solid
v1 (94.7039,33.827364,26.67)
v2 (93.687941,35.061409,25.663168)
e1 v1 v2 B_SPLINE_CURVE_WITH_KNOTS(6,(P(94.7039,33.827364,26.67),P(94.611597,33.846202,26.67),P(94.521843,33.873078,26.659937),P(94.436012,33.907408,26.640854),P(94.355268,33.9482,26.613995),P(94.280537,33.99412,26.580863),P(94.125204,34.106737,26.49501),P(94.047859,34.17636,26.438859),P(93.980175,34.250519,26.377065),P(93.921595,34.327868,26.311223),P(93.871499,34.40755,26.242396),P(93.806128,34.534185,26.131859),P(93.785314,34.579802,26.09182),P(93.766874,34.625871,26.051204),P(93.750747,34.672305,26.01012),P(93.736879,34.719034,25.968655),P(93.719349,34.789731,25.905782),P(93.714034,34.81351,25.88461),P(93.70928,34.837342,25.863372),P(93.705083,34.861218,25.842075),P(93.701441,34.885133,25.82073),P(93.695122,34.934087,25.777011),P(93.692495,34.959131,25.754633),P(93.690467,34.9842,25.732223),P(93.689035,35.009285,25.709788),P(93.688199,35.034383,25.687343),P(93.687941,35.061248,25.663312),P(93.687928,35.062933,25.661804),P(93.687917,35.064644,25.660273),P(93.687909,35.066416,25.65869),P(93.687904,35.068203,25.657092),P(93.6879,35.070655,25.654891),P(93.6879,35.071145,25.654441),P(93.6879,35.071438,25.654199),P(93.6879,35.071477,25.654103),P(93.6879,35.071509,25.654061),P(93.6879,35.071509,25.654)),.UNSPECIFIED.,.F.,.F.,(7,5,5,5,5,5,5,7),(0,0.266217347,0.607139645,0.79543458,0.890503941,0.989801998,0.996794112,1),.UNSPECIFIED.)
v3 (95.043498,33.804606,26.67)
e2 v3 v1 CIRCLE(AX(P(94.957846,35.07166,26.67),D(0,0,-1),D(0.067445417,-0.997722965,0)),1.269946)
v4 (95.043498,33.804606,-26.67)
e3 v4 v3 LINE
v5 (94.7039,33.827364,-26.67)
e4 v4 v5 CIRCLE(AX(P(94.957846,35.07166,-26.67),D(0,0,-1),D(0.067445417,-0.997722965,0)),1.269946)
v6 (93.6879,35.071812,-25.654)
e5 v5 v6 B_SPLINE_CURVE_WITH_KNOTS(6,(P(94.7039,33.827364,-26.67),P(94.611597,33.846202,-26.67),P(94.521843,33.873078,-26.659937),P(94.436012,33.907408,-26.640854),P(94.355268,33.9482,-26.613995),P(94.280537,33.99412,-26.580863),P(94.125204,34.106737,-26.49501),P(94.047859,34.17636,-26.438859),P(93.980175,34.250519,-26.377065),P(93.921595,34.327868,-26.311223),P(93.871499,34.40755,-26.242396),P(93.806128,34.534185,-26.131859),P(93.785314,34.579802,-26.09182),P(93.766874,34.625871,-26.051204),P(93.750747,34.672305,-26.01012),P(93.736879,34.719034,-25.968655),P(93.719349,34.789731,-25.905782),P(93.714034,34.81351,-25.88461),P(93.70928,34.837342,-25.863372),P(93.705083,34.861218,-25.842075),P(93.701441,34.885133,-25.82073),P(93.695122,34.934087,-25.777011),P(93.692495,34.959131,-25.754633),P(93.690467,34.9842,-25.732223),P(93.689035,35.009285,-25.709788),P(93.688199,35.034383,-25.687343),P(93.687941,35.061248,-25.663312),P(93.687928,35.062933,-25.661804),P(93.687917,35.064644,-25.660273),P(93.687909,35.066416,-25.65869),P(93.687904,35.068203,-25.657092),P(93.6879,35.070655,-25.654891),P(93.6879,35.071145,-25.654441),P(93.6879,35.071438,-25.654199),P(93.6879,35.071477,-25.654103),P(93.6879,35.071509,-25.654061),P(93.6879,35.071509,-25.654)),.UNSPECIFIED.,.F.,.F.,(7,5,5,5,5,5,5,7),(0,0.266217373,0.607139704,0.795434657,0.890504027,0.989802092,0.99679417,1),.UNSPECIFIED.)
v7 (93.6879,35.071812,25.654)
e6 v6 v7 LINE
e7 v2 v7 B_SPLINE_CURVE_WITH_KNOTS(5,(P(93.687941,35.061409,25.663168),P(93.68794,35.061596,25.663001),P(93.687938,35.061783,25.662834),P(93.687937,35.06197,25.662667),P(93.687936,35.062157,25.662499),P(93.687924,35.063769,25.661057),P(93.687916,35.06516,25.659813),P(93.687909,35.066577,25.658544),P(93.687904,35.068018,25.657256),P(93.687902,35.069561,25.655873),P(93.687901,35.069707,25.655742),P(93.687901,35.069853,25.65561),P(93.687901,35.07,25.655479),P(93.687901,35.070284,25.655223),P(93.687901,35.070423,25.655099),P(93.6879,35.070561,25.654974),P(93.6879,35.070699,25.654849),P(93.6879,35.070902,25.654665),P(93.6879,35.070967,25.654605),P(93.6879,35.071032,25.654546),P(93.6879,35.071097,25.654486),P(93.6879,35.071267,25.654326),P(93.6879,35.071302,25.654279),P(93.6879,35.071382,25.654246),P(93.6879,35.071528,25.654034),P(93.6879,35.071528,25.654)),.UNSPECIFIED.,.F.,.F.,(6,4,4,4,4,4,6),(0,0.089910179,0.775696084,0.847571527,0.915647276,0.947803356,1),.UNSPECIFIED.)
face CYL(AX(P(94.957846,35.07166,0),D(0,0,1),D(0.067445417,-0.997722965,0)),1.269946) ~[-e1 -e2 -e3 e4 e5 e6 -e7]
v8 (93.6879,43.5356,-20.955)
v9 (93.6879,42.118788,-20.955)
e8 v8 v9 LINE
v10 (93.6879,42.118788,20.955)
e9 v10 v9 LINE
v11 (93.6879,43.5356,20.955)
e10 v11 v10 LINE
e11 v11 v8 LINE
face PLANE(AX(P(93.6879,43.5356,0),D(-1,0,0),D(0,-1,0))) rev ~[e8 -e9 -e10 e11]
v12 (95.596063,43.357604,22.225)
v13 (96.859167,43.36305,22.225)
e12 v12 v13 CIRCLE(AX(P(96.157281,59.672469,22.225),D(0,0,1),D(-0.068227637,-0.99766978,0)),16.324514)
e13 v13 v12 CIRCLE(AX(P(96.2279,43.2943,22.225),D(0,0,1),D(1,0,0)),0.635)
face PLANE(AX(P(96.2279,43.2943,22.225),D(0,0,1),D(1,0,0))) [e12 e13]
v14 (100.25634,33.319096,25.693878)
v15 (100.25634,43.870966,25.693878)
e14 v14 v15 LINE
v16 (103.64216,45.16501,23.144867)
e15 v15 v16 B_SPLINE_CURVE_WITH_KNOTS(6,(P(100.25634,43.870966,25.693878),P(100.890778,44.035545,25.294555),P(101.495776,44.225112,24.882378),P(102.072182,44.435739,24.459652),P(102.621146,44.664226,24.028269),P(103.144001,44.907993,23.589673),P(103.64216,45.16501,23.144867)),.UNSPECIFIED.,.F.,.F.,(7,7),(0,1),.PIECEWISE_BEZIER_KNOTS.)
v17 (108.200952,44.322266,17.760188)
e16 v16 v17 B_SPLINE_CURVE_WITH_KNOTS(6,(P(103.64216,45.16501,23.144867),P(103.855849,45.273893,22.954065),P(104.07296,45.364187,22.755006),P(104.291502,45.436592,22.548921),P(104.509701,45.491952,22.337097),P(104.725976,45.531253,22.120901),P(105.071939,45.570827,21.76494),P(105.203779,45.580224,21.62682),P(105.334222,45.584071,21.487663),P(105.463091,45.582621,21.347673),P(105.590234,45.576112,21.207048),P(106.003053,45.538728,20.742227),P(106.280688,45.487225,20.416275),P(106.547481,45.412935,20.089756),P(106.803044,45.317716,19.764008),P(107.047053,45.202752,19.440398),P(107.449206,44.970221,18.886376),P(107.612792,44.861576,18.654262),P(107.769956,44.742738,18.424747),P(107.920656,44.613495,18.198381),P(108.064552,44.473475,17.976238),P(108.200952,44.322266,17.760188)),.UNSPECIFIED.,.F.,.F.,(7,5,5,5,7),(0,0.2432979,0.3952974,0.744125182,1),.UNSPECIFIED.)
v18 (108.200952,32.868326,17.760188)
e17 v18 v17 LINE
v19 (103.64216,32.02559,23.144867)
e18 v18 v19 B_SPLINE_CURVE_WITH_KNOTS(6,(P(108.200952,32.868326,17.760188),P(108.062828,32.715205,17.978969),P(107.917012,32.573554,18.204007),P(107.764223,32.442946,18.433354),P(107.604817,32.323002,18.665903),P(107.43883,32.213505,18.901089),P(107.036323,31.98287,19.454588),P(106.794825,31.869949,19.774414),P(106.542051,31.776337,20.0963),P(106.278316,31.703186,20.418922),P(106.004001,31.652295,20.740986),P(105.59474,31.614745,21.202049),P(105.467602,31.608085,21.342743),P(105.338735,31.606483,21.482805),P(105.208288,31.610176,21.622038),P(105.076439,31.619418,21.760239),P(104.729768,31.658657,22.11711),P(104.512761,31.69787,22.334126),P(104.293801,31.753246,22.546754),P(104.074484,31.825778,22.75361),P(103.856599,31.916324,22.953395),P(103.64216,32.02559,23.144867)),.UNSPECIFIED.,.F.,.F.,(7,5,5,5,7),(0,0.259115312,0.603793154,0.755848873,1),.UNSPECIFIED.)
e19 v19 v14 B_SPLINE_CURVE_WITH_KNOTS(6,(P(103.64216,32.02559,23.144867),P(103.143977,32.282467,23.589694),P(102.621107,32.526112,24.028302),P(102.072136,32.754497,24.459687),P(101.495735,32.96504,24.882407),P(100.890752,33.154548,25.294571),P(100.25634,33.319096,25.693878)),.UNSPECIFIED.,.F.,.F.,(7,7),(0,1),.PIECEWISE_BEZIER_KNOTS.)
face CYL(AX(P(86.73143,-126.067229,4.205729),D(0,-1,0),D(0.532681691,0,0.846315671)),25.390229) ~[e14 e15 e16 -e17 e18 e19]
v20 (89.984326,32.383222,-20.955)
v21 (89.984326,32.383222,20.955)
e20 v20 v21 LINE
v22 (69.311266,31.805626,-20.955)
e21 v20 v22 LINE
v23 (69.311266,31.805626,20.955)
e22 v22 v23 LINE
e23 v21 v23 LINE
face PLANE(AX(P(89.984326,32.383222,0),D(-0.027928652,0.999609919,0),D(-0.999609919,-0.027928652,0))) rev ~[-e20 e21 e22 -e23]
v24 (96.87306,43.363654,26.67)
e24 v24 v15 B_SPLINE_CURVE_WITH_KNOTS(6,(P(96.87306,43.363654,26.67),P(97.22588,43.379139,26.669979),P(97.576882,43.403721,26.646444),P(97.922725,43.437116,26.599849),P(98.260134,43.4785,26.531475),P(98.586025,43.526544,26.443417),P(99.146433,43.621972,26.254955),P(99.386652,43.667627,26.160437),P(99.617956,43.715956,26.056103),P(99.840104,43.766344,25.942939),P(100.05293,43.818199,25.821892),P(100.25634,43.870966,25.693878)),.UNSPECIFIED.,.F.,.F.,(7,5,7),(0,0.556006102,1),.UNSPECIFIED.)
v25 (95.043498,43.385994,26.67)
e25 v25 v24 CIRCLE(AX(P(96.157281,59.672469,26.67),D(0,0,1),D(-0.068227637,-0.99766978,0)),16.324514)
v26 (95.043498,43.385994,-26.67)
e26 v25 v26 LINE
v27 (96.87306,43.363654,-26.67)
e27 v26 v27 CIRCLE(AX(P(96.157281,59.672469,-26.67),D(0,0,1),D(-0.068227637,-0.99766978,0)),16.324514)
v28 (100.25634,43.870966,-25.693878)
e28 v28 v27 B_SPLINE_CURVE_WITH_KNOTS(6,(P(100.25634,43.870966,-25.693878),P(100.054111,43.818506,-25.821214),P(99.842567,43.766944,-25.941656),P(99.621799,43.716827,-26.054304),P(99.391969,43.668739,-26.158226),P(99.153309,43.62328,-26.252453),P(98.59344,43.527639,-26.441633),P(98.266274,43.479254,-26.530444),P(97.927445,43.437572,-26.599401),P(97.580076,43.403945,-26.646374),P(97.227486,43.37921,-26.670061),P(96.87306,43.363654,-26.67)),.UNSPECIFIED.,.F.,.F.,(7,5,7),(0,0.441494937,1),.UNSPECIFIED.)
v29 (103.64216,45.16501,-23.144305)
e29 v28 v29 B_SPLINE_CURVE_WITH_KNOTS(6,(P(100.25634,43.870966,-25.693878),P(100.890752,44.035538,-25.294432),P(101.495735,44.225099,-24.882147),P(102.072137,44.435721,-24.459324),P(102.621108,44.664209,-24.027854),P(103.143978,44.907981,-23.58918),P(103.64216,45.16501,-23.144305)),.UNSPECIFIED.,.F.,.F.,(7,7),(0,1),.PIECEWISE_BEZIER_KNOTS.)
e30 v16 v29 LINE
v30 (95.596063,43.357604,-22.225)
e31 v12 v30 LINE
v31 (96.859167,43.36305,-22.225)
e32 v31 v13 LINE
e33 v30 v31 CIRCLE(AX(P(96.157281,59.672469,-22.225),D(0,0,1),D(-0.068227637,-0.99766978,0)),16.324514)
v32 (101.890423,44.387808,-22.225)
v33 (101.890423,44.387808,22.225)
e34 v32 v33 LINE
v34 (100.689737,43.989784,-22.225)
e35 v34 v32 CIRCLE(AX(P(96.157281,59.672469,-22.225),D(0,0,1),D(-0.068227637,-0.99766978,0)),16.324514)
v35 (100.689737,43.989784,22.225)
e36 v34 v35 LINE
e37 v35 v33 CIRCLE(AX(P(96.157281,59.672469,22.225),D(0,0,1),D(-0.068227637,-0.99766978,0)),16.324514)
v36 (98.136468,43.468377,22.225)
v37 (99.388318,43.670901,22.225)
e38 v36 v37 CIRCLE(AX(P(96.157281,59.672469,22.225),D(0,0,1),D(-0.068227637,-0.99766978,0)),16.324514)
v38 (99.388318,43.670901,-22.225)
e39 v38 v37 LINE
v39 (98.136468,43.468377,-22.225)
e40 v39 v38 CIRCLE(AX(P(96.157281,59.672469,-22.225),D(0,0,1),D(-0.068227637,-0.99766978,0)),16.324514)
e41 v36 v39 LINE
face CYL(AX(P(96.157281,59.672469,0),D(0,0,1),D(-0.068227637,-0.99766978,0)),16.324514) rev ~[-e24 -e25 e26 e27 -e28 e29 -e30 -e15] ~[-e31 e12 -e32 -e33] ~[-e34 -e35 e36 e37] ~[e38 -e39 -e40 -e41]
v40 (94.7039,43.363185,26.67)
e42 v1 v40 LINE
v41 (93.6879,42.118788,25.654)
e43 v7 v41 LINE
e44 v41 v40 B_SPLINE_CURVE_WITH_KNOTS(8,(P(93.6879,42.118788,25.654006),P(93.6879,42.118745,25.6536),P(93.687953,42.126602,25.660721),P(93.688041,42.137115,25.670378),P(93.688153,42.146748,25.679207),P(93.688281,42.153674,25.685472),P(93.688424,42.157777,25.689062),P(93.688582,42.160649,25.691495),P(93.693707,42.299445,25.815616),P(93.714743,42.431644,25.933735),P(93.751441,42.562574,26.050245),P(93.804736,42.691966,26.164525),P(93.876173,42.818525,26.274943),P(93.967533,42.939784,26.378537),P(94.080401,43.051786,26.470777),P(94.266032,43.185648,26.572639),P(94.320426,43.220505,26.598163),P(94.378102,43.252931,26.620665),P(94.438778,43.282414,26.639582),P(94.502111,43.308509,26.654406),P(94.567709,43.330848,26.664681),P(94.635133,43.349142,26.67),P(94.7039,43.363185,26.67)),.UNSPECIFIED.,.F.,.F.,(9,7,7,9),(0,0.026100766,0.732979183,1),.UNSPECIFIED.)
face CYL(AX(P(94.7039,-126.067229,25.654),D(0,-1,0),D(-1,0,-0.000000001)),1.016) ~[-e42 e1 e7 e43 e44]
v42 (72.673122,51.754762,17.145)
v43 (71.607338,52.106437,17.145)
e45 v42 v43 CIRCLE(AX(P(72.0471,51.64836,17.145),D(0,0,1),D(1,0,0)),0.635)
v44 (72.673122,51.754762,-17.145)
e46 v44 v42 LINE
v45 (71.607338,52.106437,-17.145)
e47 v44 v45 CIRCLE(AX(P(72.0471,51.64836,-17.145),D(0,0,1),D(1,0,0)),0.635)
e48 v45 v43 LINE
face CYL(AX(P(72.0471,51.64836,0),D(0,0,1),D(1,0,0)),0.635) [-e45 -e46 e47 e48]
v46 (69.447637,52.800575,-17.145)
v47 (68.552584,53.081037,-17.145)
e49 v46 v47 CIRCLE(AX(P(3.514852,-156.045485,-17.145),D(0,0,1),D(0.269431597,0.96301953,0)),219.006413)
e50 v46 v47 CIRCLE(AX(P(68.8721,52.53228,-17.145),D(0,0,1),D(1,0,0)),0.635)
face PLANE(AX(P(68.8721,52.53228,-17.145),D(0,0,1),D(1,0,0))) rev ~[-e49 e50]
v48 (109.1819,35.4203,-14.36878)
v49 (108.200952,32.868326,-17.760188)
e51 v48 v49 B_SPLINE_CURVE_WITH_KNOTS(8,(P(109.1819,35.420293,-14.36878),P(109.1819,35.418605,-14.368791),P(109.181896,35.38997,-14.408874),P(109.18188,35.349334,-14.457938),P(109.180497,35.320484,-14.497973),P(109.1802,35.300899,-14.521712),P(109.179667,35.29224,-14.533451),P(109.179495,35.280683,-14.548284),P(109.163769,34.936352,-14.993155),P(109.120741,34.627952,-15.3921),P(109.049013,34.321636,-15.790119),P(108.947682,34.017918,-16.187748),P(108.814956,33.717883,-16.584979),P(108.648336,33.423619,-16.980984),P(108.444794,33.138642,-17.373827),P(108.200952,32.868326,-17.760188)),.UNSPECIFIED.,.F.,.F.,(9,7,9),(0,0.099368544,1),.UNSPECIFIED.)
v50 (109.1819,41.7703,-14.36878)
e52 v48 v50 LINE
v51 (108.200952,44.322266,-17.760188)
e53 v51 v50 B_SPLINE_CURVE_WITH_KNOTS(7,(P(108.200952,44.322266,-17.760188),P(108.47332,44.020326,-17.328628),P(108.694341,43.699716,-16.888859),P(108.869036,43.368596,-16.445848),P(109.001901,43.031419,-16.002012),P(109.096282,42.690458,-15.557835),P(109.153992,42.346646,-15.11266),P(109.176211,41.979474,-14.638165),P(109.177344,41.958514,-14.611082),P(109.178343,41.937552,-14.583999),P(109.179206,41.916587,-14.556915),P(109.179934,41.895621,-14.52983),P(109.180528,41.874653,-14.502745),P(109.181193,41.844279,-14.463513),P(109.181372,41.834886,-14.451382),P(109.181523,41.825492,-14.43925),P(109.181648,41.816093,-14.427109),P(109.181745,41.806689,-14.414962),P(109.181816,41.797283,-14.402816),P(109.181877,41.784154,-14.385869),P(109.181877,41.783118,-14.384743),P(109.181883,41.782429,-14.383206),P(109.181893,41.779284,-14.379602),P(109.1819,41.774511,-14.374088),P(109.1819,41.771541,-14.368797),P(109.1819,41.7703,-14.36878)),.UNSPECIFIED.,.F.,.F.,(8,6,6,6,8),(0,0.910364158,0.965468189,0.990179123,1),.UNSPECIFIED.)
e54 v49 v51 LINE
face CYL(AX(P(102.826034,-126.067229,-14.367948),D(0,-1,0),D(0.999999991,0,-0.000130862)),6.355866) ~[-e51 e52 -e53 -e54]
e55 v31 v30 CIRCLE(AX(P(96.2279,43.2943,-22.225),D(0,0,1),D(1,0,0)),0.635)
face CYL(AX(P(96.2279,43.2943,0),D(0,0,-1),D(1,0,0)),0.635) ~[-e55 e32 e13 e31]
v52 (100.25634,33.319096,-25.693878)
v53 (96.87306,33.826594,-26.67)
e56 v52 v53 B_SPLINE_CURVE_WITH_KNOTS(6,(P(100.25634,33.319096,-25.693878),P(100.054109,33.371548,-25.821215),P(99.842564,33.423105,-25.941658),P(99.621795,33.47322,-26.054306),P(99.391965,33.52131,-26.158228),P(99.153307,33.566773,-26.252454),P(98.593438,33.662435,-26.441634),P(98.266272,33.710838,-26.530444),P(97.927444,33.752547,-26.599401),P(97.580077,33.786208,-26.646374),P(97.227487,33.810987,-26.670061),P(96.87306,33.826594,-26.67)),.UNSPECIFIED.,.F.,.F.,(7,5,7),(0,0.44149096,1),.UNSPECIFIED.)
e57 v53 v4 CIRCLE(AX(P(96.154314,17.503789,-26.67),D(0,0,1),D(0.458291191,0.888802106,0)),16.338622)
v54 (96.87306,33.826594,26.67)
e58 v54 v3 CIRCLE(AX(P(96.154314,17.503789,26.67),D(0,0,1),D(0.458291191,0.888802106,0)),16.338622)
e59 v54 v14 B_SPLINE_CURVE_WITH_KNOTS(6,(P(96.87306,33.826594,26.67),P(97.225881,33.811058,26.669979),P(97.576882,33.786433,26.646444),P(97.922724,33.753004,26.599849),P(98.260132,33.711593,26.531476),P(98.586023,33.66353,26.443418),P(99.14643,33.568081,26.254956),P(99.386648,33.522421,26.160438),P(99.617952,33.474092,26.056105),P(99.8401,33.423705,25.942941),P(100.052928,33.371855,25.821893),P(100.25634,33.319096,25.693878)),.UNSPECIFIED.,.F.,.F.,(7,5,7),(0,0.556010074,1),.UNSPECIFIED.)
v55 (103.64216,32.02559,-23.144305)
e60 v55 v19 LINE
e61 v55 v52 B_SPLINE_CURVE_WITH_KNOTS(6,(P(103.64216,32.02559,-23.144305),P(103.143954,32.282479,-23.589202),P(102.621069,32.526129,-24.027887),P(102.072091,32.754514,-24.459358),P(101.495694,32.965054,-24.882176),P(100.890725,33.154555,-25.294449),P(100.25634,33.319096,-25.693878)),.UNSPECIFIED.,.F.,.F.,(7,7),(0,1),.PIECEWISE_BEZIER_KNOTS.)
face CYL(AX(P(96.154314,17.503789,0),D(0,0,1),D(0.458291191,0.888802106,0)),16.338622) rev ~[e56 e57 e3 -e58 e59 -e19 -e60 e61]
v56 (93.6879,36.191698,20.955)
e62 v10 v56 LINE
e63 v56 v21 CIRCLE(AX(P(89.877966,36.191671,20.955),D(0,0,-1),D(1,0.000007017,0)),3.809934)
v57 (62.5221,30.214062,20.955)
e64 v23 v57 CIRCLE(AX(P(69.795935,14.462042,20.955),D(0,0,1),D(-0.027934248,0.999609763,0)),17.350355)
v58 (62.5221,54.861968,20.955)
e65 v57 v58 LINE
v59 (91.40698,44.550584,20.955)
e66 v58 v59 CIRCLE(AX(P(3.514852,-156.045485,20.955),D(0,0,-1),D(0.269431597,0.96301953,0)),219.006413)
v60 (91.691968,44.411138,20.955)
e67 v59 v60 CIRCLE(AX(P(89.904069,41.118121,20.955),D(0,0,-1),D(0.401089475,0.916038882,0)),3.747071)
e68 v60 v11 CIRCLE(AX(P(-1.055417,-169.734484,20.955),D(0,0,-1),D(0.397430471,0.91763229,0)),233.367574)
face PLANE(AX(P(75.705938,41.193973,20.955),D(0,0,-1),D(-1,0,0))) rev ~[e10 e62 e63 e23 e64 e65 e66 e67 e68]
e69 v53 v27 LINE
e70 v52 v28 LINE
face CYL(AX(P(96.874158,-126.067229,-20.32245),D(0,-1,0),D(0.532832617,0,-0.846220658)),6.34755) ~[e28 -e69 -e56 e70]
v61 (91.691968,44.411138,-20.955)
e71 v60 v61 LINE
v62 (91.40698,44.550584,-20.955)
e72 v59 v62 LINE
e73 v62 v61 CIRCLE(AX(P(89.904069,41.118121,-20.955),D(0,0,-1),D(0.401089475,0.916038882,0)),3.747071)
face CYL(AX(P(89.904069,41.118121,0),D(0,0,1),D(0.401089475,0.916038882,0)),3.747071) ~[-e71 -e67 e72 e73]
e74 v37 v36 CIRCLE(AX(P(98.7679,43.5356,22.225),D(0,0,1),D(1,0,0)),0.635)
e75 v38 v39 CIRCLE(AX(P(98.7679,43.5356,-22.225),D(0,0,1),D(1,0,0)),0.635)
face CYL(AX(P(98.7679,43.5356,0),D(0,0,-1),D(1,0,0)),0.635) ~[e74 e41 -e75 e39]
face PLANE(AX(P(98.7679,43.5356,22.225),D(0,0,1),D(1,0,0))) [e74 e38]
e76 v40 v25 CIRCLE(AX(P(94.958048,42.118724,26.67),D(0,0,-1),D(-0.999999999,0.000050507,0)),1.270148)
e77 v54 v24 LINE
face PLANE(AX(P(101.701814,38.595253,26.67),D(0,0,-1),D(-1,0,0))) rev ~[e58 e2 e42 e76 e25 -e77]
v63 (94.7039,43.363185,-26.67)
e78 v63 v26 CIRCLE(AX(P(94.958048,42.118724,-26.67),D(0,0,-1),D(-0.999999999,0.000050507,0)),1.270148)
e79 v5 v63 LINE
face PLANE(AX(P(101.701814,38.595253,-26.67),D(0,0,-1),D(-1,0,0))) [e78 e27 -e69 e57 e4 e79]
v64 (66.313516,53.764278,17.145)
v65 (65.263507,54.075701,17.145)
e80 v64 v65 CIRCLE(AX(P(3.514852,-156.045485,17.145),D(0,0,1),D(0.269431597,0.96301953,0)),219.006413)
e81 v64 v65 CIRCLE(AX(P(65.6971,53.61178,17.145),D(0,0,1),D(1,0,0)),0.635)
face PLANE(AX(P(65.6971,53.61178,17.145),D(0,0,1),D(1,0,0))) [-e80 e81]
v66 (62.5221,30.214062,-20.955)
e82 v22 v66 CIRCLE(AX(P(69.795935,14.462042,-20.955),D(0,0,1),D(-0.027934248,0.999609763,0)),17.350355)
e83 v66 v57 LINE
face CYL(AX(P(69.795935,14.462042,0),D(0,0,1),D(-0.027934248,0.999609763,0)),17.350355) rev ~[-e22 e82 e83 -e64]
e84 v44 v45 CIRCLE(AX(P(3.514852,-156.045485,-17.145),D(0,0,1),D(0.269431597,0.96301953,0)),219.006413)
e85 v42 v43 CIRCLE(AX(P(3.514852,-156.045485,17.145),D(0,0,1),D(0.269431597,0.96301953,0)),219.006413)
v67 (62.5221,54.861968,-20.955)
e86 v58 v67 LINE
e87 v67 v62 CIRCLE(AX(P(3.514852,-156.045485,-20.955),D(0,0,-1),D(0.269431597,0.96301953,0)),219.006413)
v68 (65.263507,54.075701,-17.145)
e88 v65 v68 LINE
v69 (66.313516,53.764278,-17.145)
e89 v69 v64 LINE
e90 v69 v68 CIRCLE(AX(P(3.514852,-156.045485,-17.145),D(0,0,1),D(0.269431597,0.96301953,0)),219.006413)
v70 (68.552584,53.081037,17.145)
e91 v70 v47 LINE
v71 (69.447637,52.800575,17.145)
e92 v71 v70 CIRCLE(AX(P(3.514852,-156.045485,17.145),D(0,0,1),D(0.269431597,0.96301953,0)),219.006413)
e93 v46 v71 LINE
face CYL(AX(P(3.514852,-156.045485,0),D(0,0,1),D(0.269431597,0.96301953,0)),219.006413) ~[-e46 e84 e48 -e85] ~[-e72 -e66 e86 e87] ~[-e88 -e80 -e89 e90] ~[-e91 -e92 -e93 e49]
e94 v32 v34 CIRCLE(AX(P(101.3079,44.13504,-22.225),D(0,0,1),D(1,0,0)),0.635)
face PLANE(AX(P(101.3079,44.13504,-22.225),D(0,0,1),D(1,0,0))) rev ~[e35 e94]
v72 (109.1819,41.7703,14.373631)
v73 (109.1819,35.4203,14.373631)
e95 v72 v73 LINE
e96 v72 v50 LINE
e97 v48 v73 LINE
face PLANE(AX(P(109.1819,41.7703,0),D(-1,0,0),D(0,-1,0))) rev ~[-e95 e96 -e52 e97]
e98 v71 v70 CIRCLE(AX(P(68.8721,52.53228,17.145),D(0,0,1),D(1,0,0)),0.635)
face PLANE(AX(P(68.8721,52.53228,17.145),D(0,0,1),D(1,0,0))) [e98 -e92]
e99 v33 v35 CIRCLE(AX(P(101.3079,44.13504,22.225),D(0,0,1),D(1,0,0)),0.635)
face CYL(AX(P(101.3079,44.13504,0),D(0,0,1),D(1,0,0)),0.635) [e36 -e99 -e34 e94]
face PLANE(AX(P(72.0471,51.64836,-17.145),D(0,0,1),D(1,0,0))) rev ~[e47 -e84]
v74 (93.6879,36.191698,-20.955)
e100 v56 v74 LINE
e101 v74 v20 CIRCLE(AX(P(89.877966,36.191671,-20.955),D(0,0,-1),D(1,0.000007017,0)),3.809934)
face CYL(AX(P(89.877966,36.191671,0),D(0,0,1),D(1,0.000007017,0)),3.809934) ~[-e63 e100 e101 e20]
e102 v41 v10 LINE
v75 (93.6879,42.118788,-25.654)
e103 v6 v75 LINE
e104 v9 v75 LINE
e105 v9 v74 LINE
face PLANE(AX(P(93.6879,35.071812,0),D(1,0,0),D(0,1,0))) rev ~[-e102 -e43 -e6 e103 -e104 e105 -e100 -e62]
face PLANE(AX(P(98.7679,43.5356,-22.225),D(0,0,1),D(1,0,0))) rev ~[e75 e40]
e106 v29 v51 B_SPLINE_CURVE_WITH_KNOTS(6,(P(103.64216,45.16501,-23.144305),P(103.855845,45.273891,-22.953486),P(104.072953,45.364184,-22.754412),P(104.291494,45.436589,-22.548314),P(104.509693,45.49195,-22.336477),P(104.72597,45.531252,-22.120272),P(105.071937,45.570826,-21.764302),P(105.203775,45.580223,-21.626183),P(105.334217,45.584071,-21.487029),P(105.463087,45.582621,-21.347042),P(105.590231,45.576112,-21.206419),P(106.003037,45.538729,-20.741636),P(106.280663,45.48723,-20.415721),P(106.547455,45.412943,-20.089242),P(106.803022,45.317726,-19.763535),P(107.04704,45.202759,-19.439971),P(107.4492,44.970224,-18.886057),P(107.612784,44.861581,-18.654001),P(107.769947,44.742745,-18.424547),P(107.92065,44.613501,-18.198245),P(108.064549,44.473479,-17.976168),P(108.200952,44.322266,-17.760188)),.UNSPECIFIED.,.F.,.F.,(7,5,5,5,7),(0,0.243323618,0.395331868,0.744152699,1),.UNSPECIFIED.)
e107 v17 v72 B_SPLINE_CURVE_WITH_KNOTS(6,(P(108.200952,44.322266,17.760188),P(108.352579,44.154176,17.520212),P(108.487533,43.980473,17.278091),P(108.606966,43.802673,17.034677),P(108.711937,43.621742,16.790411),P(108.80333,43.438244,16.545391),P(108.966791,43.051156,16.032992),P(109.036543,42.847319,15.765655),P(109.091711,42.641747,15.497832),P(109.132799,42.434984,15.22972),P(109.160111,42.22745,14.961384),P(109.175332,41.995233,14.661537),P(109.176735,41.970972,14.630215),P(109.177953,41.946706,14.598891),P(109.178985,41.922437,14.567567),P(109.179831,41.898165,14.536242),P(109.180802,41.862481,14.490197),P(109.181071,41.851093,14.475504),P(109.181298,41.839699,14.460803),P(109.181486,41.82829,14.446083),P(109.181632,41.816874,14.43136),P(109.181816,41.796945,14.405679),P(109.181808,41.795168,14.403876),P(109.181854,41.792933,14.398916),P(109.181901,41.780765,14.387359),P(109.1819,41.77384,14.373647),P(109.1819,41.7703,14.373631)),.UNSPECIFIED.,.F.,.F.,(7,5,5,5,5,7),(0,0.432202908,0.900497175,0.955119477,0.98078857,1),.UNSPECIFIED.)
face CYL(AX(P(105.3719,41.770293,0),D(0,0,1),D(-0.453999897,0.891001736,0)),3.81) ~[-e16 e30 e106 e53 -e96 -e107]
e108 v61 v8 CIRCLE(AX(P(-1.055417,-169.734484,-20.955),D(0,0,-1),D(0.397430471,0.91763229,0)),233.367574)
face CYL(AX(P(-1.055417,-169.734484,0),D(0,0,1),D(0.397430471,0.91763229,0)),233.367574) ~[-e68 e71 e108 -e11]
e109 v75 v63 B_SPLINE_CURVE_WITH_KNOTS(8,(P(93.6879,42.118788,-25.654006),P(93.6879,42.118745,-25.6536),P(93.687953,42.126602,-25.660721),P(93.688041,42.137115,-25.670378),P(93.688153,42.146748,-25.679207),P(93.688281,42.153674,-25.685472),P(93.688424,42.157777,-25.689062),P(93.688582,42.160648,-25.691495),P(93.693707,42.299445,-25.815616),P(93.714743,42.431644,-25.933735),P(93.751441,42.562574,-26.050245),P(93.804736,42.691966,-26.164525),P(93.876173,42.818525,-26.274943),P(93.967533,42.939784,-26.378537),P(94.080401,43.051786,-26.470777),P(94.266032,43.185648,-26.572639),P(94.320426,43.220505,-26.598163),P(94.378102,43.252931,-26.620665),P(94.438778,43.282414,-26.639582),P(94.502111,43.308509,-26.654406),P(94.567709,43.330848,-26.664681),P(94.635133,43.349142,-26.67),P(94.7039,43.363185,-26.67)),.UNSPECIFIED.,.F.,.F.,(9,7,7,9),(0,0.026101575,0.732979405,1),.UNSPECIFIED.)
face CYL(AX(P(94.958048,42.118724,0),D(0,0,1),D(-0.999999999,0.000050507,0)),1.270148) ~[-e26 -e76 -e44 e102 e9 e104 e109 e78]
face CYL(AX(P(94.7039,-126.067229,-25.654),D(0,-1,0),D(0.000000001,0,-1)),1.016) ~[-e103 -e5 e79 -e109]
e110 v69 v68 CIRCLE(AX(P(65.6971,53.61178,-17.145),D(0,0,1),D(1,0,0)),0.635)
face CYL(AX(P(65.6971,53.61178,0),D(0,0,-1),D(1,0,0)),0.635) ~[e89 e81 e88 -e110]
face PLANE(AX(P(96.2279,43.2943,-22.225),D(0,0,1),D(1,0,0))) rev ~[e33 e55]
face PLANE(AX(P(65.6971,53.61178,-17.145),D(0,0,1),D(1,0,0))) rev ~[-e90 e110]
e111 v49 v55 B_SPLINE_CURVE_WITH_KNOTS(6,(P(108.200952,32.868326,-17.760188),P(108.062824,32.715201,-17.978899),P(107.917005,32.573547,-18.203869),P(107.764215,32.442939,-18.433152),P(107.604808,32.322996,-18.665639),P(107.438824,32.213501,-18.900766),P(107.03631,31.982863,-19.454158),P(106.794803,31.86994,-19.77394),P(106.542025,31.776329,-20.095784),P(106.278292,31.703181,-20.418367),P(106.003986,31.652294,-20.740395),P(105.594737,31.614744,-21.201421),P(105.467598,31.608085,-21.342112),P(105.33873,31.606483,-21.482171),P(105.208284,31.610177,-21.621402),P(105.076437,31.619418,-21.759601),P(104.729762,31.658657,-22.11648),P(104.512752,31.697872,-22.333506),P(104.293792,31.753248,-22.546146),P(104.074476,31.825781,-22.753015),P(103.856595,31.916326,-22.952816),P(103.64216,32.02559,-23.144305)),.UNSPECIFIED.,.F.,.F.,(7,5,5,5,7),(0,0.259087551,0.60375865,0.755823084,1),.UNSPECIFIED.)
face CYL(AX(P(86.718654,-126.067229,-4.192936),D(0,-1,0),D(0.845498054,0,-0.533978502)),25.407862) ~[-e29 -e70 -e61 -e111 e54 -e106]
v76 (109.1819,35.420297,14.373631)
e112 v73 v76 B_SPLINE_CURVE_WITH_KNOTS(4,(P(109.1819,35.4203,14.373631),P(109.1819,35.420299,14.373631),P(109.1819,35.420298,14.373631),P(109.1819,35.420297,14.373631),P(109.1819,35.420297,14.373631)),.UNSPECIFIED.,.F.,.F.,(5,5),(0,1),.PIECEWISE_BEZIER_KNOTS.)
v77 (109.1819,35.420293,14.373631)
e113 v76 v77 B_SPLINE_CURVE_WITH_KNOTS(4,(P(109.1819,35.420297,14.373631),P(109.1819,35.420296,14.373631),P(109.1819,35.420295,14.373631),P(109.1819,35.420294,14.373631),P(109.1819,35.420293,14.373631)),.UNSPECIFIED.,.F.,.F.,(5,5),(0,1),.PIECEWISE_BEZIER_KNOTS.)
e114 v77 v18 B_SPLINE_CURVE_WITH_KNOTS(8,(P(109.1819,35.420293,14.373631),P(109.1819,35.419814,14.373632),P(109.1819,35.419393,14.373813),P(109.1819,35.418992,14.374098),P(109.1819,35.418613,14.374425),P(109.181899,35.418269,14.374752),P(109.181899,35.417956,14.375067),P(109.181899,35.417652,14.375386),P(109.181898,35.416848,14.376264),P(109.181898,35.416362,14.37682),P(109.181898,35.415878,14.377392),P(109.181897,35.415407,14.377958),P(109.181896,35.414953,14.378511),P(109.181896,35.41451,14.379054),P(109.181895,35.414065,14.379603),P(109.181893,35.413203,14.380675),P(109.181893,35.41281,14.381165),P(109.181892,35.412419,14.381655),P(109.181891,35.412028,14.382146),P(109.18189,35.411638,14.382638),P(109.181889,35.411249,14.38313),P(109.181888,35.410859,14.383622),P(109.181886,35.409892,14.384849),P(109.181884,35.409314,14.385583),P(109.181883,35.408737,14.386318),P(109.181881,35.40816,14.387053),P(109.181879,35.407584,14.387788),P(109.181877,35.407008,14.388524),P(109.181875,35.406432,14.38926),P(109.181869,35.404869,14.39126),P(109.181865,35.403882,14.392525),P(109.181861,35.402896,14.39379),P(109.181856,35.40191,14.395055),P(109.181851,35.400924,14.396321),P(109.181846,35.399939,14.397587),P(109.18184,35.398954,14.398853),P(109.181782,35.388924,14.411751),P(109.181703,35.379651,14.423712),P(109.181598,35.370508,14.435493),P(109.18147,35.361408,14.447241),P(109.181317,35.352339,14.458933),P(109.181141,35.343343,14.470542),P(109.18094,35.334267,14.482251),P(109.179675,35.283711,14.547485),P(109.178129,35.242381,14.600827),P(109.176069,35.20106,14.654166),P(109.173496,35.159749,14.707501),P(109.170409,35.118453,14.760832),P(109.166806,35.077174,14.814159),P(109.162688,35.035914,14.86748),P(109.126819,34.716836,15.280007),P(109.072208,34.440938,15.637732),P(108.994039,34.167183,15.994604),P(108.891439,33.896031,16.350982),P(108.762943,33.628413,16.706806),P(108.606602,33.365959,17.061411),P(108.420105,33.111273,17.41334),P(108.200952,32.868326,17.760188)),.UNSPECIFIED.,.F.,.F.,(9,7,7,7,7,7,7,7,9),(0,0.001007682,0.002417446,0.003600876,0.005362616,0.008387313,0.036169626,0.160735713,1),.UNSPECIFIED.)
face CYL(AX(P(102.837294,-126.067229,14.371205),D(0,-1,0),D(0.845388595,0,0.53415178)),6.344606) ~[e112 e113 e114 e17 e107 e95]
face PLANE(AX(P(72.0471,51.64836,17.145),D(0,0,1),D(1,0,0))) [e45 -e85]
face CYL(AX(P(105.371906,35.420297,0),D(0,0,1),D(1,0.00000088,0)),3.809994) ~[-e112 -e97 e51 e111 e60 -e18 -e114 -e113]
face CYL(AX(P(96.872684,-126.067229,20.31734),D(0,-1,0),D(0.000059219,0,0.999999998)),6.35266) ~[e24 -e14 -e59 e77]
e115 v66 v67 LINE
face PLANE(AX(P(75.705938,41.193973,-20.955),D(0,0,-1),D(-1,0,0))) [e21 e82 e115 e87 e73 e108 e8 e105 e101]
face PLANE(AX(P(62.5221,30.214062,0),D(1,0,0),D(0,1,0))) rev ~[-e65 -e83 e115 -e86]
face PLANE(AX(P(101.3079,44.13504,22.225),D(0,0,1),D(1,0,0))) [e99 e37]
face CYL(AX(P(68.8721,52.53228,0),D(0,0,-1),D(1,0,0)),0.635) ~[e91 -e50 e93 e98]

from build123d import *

# Parameters (mm, degrees)
EXT_PEDAL_STEM_DEPTH     = 20.955
EXT_FOOT_SIDE_DEPTH      = 26.67
CUT_FOOT_PLAN_DEPTH      = 126.067228803
CUT_FOOT_PLAN_DEPTH_BACK = 126.067228803
SK_RIBS_STEM_R           = 0.635
EXT_RIBS_STEM_DEPTH      = 17.145
SK_RIBS_FOOT_R           = 0.635
EXT_RIBS_FOOT_DEPTH      = 22.225


with BuildPart() as part:
    # Sk_pedal_stem → Ext_pedal_stem (new, symmetric)
    with BuildSketch(Plane.XY):
        with BuildLine():
            Line((62.5221, 30.214062), (62.5221, 54.861968))
            ThreePointArc((62.5221, 54.861968), (77.145265739, 50.212536002), (91.40698, 44.550584))
            ThreePointArc((91.40698, 44.550584), (91.550950572, 44.483878693), (91.691968, 44.411138))
            ThreePointArc((91.691968, 44.411138), (92.690956134, 43.975699122), (93.6879, 43.5356))
            Line((93.6879, 43.5356), (93.6879, 36.191698))
            ThreePointArc((93.6879, 36.191698), (92.609350592, 33.535520735), (89.984326, 32.383222))
            Line((89.984326, 32.383222), (69.311266, 31.805626))
            ThreePointArc((69.311266, 31.805626), (65.835901534, 31.354435095), (62.5221, 30.214062))
        make_face()
    extrude(amount=EXT_PEDAL_STEM_DEPTH, both=True)

    # Sk_foot_side → Ext_foot_side (add, symmetric)
    with BuildSketch(Plane.XY):
        with BuildLine():
            Line((93.6879, 35.071812), (93.6879, 42.118788))
            ThreePointArc((93.6879, 42.118788), (94.090678285, 43.046595361), (95.043498, 43.385994))
            ThreePointArc((95.043498, 43.385994), (99.464687923, 43.686511406), (103.64216, 45.16501))
            ThreePointArc((103.64216, 45.16501), (107.36259935, 45.018864691), (109.1819, 41.7703))
            Line((109.1819, 41.7703), (109.1819, 35.4203))
            ThreePointArc((109.1819, 35.4203), (107.362602336, 32.171730436), (103.64216, 32.02559))
            ThreePointArc((103.64216, 32.02559), (99.464578688, 33.503560617), (95.043498, 33.804606))
            ThreePointArc((95.043498, 33.804606), (94.090614283, 34.143936173), (93.6879, 35.071812))
        make_face()
    extrude(amount=EXT_FOOT_SIDE_DEPTH, both=True)

    # Sk_foot_plan_trim → Cut_foot_plan (cut, two sides: drawn at the far end of the back side and taken through both)
    with BuildSketch(Plane(origin=(0, 0, 0), x_dir=(1, 0, 0), z_dir=(0, 1, 0)).offset(-CUT_FOOT_PLAN_DEPTH_BACK)):
        with BuildLine():
            Line((94.7039, -26.67), (96.87306, -26.67))
            ThreePointArc((96.87306, -26.67), (98.633684187, -26.421041098), (100.25634, -25.693878))
            ThreePointArc((100.25634, -25.693878), (104.672679306, -22.171677589), (108.200952, -17.760188))
            ThreePointArc((108.200952, -17.760188), (108.932068295, -16.134088594), (109.1819, -14.36878))
            Line((109.1819, -14.36878), (109.1819, 14.36878))
            ThreePointArc((109.1819, 14.36878), (108.931624488, 16.133960225), (108.200952, 17.760188))
            ThreePointArc((108.200952, 17.760188), (104.672363352, 22.1713612), (100.25634, 25.693878))
            ThreePointArc((100.25634, 25.693878), (98.633741991, 26.421241452), (96.87306, 26.67))
            Line((96.87306, 26.67), (94.7039, 26.67))
            ThreePointArc((94.7039, 26.67), (93.98547951, 26.37242049), (93.6879, 25.654))
            Line((93.6879, 25.654), (93.6879, 40.64))
            Line((93.6879, 40.64), (119.38, 40.64))
            Line((119.38, 40.64), (119.38, -40.64))
            Line((119.38, -40.64), (93.6879, -40.64))
            Line((93.6879, -40.64), (93.6879, -25.654))
            ThreePointArc((93.6879, -25.654), (93.98547951, -26.37242049), (94.7039, -26.67))
        make_face()
    extrude(amount=CUT_FOOT_PLAN_DEPTH + CUT_FOOT_PLAN_DEPTH_BACK, mode=Mode.SUBTRACT)

    # Sk_ribs_stem → Ext_ribs_stem (add, symmetric)
    with BuildSketch(Plane.XY):
        with Locations((65.6971, 53.61178)):
            Circle(SK_RIBS_STEM_R)
        with Locations((68.8721, 52.53228)):
            Circle(SK_RIBS_STEM_R)
        with Locations((72.0471, 51.64836)):
            Circle(SK_RIBS_STEM_R)
    extrude(amount=EXT_RIBS_STEM_DEPTH, both=True)

    # Sk_ribs_foot → Ext_ribs_foot (add, symmetric)
    with BuildSketch(Plane.XY):
        with Locations((96.2279, 43.2943)):
            Circle(SK_RIBS_FOOT_R)
        with Locations((98.7679, 43.5356)):
            Circle(SK_RIBS_FOOT_R)
        with Locations((101.3079, 44.13504)):
            Circle(SK_RIBS_FOOT_R)
    extrude(amount=EXT_RIBS_FOOT_DEPTH, both=True)


solid = part.part
